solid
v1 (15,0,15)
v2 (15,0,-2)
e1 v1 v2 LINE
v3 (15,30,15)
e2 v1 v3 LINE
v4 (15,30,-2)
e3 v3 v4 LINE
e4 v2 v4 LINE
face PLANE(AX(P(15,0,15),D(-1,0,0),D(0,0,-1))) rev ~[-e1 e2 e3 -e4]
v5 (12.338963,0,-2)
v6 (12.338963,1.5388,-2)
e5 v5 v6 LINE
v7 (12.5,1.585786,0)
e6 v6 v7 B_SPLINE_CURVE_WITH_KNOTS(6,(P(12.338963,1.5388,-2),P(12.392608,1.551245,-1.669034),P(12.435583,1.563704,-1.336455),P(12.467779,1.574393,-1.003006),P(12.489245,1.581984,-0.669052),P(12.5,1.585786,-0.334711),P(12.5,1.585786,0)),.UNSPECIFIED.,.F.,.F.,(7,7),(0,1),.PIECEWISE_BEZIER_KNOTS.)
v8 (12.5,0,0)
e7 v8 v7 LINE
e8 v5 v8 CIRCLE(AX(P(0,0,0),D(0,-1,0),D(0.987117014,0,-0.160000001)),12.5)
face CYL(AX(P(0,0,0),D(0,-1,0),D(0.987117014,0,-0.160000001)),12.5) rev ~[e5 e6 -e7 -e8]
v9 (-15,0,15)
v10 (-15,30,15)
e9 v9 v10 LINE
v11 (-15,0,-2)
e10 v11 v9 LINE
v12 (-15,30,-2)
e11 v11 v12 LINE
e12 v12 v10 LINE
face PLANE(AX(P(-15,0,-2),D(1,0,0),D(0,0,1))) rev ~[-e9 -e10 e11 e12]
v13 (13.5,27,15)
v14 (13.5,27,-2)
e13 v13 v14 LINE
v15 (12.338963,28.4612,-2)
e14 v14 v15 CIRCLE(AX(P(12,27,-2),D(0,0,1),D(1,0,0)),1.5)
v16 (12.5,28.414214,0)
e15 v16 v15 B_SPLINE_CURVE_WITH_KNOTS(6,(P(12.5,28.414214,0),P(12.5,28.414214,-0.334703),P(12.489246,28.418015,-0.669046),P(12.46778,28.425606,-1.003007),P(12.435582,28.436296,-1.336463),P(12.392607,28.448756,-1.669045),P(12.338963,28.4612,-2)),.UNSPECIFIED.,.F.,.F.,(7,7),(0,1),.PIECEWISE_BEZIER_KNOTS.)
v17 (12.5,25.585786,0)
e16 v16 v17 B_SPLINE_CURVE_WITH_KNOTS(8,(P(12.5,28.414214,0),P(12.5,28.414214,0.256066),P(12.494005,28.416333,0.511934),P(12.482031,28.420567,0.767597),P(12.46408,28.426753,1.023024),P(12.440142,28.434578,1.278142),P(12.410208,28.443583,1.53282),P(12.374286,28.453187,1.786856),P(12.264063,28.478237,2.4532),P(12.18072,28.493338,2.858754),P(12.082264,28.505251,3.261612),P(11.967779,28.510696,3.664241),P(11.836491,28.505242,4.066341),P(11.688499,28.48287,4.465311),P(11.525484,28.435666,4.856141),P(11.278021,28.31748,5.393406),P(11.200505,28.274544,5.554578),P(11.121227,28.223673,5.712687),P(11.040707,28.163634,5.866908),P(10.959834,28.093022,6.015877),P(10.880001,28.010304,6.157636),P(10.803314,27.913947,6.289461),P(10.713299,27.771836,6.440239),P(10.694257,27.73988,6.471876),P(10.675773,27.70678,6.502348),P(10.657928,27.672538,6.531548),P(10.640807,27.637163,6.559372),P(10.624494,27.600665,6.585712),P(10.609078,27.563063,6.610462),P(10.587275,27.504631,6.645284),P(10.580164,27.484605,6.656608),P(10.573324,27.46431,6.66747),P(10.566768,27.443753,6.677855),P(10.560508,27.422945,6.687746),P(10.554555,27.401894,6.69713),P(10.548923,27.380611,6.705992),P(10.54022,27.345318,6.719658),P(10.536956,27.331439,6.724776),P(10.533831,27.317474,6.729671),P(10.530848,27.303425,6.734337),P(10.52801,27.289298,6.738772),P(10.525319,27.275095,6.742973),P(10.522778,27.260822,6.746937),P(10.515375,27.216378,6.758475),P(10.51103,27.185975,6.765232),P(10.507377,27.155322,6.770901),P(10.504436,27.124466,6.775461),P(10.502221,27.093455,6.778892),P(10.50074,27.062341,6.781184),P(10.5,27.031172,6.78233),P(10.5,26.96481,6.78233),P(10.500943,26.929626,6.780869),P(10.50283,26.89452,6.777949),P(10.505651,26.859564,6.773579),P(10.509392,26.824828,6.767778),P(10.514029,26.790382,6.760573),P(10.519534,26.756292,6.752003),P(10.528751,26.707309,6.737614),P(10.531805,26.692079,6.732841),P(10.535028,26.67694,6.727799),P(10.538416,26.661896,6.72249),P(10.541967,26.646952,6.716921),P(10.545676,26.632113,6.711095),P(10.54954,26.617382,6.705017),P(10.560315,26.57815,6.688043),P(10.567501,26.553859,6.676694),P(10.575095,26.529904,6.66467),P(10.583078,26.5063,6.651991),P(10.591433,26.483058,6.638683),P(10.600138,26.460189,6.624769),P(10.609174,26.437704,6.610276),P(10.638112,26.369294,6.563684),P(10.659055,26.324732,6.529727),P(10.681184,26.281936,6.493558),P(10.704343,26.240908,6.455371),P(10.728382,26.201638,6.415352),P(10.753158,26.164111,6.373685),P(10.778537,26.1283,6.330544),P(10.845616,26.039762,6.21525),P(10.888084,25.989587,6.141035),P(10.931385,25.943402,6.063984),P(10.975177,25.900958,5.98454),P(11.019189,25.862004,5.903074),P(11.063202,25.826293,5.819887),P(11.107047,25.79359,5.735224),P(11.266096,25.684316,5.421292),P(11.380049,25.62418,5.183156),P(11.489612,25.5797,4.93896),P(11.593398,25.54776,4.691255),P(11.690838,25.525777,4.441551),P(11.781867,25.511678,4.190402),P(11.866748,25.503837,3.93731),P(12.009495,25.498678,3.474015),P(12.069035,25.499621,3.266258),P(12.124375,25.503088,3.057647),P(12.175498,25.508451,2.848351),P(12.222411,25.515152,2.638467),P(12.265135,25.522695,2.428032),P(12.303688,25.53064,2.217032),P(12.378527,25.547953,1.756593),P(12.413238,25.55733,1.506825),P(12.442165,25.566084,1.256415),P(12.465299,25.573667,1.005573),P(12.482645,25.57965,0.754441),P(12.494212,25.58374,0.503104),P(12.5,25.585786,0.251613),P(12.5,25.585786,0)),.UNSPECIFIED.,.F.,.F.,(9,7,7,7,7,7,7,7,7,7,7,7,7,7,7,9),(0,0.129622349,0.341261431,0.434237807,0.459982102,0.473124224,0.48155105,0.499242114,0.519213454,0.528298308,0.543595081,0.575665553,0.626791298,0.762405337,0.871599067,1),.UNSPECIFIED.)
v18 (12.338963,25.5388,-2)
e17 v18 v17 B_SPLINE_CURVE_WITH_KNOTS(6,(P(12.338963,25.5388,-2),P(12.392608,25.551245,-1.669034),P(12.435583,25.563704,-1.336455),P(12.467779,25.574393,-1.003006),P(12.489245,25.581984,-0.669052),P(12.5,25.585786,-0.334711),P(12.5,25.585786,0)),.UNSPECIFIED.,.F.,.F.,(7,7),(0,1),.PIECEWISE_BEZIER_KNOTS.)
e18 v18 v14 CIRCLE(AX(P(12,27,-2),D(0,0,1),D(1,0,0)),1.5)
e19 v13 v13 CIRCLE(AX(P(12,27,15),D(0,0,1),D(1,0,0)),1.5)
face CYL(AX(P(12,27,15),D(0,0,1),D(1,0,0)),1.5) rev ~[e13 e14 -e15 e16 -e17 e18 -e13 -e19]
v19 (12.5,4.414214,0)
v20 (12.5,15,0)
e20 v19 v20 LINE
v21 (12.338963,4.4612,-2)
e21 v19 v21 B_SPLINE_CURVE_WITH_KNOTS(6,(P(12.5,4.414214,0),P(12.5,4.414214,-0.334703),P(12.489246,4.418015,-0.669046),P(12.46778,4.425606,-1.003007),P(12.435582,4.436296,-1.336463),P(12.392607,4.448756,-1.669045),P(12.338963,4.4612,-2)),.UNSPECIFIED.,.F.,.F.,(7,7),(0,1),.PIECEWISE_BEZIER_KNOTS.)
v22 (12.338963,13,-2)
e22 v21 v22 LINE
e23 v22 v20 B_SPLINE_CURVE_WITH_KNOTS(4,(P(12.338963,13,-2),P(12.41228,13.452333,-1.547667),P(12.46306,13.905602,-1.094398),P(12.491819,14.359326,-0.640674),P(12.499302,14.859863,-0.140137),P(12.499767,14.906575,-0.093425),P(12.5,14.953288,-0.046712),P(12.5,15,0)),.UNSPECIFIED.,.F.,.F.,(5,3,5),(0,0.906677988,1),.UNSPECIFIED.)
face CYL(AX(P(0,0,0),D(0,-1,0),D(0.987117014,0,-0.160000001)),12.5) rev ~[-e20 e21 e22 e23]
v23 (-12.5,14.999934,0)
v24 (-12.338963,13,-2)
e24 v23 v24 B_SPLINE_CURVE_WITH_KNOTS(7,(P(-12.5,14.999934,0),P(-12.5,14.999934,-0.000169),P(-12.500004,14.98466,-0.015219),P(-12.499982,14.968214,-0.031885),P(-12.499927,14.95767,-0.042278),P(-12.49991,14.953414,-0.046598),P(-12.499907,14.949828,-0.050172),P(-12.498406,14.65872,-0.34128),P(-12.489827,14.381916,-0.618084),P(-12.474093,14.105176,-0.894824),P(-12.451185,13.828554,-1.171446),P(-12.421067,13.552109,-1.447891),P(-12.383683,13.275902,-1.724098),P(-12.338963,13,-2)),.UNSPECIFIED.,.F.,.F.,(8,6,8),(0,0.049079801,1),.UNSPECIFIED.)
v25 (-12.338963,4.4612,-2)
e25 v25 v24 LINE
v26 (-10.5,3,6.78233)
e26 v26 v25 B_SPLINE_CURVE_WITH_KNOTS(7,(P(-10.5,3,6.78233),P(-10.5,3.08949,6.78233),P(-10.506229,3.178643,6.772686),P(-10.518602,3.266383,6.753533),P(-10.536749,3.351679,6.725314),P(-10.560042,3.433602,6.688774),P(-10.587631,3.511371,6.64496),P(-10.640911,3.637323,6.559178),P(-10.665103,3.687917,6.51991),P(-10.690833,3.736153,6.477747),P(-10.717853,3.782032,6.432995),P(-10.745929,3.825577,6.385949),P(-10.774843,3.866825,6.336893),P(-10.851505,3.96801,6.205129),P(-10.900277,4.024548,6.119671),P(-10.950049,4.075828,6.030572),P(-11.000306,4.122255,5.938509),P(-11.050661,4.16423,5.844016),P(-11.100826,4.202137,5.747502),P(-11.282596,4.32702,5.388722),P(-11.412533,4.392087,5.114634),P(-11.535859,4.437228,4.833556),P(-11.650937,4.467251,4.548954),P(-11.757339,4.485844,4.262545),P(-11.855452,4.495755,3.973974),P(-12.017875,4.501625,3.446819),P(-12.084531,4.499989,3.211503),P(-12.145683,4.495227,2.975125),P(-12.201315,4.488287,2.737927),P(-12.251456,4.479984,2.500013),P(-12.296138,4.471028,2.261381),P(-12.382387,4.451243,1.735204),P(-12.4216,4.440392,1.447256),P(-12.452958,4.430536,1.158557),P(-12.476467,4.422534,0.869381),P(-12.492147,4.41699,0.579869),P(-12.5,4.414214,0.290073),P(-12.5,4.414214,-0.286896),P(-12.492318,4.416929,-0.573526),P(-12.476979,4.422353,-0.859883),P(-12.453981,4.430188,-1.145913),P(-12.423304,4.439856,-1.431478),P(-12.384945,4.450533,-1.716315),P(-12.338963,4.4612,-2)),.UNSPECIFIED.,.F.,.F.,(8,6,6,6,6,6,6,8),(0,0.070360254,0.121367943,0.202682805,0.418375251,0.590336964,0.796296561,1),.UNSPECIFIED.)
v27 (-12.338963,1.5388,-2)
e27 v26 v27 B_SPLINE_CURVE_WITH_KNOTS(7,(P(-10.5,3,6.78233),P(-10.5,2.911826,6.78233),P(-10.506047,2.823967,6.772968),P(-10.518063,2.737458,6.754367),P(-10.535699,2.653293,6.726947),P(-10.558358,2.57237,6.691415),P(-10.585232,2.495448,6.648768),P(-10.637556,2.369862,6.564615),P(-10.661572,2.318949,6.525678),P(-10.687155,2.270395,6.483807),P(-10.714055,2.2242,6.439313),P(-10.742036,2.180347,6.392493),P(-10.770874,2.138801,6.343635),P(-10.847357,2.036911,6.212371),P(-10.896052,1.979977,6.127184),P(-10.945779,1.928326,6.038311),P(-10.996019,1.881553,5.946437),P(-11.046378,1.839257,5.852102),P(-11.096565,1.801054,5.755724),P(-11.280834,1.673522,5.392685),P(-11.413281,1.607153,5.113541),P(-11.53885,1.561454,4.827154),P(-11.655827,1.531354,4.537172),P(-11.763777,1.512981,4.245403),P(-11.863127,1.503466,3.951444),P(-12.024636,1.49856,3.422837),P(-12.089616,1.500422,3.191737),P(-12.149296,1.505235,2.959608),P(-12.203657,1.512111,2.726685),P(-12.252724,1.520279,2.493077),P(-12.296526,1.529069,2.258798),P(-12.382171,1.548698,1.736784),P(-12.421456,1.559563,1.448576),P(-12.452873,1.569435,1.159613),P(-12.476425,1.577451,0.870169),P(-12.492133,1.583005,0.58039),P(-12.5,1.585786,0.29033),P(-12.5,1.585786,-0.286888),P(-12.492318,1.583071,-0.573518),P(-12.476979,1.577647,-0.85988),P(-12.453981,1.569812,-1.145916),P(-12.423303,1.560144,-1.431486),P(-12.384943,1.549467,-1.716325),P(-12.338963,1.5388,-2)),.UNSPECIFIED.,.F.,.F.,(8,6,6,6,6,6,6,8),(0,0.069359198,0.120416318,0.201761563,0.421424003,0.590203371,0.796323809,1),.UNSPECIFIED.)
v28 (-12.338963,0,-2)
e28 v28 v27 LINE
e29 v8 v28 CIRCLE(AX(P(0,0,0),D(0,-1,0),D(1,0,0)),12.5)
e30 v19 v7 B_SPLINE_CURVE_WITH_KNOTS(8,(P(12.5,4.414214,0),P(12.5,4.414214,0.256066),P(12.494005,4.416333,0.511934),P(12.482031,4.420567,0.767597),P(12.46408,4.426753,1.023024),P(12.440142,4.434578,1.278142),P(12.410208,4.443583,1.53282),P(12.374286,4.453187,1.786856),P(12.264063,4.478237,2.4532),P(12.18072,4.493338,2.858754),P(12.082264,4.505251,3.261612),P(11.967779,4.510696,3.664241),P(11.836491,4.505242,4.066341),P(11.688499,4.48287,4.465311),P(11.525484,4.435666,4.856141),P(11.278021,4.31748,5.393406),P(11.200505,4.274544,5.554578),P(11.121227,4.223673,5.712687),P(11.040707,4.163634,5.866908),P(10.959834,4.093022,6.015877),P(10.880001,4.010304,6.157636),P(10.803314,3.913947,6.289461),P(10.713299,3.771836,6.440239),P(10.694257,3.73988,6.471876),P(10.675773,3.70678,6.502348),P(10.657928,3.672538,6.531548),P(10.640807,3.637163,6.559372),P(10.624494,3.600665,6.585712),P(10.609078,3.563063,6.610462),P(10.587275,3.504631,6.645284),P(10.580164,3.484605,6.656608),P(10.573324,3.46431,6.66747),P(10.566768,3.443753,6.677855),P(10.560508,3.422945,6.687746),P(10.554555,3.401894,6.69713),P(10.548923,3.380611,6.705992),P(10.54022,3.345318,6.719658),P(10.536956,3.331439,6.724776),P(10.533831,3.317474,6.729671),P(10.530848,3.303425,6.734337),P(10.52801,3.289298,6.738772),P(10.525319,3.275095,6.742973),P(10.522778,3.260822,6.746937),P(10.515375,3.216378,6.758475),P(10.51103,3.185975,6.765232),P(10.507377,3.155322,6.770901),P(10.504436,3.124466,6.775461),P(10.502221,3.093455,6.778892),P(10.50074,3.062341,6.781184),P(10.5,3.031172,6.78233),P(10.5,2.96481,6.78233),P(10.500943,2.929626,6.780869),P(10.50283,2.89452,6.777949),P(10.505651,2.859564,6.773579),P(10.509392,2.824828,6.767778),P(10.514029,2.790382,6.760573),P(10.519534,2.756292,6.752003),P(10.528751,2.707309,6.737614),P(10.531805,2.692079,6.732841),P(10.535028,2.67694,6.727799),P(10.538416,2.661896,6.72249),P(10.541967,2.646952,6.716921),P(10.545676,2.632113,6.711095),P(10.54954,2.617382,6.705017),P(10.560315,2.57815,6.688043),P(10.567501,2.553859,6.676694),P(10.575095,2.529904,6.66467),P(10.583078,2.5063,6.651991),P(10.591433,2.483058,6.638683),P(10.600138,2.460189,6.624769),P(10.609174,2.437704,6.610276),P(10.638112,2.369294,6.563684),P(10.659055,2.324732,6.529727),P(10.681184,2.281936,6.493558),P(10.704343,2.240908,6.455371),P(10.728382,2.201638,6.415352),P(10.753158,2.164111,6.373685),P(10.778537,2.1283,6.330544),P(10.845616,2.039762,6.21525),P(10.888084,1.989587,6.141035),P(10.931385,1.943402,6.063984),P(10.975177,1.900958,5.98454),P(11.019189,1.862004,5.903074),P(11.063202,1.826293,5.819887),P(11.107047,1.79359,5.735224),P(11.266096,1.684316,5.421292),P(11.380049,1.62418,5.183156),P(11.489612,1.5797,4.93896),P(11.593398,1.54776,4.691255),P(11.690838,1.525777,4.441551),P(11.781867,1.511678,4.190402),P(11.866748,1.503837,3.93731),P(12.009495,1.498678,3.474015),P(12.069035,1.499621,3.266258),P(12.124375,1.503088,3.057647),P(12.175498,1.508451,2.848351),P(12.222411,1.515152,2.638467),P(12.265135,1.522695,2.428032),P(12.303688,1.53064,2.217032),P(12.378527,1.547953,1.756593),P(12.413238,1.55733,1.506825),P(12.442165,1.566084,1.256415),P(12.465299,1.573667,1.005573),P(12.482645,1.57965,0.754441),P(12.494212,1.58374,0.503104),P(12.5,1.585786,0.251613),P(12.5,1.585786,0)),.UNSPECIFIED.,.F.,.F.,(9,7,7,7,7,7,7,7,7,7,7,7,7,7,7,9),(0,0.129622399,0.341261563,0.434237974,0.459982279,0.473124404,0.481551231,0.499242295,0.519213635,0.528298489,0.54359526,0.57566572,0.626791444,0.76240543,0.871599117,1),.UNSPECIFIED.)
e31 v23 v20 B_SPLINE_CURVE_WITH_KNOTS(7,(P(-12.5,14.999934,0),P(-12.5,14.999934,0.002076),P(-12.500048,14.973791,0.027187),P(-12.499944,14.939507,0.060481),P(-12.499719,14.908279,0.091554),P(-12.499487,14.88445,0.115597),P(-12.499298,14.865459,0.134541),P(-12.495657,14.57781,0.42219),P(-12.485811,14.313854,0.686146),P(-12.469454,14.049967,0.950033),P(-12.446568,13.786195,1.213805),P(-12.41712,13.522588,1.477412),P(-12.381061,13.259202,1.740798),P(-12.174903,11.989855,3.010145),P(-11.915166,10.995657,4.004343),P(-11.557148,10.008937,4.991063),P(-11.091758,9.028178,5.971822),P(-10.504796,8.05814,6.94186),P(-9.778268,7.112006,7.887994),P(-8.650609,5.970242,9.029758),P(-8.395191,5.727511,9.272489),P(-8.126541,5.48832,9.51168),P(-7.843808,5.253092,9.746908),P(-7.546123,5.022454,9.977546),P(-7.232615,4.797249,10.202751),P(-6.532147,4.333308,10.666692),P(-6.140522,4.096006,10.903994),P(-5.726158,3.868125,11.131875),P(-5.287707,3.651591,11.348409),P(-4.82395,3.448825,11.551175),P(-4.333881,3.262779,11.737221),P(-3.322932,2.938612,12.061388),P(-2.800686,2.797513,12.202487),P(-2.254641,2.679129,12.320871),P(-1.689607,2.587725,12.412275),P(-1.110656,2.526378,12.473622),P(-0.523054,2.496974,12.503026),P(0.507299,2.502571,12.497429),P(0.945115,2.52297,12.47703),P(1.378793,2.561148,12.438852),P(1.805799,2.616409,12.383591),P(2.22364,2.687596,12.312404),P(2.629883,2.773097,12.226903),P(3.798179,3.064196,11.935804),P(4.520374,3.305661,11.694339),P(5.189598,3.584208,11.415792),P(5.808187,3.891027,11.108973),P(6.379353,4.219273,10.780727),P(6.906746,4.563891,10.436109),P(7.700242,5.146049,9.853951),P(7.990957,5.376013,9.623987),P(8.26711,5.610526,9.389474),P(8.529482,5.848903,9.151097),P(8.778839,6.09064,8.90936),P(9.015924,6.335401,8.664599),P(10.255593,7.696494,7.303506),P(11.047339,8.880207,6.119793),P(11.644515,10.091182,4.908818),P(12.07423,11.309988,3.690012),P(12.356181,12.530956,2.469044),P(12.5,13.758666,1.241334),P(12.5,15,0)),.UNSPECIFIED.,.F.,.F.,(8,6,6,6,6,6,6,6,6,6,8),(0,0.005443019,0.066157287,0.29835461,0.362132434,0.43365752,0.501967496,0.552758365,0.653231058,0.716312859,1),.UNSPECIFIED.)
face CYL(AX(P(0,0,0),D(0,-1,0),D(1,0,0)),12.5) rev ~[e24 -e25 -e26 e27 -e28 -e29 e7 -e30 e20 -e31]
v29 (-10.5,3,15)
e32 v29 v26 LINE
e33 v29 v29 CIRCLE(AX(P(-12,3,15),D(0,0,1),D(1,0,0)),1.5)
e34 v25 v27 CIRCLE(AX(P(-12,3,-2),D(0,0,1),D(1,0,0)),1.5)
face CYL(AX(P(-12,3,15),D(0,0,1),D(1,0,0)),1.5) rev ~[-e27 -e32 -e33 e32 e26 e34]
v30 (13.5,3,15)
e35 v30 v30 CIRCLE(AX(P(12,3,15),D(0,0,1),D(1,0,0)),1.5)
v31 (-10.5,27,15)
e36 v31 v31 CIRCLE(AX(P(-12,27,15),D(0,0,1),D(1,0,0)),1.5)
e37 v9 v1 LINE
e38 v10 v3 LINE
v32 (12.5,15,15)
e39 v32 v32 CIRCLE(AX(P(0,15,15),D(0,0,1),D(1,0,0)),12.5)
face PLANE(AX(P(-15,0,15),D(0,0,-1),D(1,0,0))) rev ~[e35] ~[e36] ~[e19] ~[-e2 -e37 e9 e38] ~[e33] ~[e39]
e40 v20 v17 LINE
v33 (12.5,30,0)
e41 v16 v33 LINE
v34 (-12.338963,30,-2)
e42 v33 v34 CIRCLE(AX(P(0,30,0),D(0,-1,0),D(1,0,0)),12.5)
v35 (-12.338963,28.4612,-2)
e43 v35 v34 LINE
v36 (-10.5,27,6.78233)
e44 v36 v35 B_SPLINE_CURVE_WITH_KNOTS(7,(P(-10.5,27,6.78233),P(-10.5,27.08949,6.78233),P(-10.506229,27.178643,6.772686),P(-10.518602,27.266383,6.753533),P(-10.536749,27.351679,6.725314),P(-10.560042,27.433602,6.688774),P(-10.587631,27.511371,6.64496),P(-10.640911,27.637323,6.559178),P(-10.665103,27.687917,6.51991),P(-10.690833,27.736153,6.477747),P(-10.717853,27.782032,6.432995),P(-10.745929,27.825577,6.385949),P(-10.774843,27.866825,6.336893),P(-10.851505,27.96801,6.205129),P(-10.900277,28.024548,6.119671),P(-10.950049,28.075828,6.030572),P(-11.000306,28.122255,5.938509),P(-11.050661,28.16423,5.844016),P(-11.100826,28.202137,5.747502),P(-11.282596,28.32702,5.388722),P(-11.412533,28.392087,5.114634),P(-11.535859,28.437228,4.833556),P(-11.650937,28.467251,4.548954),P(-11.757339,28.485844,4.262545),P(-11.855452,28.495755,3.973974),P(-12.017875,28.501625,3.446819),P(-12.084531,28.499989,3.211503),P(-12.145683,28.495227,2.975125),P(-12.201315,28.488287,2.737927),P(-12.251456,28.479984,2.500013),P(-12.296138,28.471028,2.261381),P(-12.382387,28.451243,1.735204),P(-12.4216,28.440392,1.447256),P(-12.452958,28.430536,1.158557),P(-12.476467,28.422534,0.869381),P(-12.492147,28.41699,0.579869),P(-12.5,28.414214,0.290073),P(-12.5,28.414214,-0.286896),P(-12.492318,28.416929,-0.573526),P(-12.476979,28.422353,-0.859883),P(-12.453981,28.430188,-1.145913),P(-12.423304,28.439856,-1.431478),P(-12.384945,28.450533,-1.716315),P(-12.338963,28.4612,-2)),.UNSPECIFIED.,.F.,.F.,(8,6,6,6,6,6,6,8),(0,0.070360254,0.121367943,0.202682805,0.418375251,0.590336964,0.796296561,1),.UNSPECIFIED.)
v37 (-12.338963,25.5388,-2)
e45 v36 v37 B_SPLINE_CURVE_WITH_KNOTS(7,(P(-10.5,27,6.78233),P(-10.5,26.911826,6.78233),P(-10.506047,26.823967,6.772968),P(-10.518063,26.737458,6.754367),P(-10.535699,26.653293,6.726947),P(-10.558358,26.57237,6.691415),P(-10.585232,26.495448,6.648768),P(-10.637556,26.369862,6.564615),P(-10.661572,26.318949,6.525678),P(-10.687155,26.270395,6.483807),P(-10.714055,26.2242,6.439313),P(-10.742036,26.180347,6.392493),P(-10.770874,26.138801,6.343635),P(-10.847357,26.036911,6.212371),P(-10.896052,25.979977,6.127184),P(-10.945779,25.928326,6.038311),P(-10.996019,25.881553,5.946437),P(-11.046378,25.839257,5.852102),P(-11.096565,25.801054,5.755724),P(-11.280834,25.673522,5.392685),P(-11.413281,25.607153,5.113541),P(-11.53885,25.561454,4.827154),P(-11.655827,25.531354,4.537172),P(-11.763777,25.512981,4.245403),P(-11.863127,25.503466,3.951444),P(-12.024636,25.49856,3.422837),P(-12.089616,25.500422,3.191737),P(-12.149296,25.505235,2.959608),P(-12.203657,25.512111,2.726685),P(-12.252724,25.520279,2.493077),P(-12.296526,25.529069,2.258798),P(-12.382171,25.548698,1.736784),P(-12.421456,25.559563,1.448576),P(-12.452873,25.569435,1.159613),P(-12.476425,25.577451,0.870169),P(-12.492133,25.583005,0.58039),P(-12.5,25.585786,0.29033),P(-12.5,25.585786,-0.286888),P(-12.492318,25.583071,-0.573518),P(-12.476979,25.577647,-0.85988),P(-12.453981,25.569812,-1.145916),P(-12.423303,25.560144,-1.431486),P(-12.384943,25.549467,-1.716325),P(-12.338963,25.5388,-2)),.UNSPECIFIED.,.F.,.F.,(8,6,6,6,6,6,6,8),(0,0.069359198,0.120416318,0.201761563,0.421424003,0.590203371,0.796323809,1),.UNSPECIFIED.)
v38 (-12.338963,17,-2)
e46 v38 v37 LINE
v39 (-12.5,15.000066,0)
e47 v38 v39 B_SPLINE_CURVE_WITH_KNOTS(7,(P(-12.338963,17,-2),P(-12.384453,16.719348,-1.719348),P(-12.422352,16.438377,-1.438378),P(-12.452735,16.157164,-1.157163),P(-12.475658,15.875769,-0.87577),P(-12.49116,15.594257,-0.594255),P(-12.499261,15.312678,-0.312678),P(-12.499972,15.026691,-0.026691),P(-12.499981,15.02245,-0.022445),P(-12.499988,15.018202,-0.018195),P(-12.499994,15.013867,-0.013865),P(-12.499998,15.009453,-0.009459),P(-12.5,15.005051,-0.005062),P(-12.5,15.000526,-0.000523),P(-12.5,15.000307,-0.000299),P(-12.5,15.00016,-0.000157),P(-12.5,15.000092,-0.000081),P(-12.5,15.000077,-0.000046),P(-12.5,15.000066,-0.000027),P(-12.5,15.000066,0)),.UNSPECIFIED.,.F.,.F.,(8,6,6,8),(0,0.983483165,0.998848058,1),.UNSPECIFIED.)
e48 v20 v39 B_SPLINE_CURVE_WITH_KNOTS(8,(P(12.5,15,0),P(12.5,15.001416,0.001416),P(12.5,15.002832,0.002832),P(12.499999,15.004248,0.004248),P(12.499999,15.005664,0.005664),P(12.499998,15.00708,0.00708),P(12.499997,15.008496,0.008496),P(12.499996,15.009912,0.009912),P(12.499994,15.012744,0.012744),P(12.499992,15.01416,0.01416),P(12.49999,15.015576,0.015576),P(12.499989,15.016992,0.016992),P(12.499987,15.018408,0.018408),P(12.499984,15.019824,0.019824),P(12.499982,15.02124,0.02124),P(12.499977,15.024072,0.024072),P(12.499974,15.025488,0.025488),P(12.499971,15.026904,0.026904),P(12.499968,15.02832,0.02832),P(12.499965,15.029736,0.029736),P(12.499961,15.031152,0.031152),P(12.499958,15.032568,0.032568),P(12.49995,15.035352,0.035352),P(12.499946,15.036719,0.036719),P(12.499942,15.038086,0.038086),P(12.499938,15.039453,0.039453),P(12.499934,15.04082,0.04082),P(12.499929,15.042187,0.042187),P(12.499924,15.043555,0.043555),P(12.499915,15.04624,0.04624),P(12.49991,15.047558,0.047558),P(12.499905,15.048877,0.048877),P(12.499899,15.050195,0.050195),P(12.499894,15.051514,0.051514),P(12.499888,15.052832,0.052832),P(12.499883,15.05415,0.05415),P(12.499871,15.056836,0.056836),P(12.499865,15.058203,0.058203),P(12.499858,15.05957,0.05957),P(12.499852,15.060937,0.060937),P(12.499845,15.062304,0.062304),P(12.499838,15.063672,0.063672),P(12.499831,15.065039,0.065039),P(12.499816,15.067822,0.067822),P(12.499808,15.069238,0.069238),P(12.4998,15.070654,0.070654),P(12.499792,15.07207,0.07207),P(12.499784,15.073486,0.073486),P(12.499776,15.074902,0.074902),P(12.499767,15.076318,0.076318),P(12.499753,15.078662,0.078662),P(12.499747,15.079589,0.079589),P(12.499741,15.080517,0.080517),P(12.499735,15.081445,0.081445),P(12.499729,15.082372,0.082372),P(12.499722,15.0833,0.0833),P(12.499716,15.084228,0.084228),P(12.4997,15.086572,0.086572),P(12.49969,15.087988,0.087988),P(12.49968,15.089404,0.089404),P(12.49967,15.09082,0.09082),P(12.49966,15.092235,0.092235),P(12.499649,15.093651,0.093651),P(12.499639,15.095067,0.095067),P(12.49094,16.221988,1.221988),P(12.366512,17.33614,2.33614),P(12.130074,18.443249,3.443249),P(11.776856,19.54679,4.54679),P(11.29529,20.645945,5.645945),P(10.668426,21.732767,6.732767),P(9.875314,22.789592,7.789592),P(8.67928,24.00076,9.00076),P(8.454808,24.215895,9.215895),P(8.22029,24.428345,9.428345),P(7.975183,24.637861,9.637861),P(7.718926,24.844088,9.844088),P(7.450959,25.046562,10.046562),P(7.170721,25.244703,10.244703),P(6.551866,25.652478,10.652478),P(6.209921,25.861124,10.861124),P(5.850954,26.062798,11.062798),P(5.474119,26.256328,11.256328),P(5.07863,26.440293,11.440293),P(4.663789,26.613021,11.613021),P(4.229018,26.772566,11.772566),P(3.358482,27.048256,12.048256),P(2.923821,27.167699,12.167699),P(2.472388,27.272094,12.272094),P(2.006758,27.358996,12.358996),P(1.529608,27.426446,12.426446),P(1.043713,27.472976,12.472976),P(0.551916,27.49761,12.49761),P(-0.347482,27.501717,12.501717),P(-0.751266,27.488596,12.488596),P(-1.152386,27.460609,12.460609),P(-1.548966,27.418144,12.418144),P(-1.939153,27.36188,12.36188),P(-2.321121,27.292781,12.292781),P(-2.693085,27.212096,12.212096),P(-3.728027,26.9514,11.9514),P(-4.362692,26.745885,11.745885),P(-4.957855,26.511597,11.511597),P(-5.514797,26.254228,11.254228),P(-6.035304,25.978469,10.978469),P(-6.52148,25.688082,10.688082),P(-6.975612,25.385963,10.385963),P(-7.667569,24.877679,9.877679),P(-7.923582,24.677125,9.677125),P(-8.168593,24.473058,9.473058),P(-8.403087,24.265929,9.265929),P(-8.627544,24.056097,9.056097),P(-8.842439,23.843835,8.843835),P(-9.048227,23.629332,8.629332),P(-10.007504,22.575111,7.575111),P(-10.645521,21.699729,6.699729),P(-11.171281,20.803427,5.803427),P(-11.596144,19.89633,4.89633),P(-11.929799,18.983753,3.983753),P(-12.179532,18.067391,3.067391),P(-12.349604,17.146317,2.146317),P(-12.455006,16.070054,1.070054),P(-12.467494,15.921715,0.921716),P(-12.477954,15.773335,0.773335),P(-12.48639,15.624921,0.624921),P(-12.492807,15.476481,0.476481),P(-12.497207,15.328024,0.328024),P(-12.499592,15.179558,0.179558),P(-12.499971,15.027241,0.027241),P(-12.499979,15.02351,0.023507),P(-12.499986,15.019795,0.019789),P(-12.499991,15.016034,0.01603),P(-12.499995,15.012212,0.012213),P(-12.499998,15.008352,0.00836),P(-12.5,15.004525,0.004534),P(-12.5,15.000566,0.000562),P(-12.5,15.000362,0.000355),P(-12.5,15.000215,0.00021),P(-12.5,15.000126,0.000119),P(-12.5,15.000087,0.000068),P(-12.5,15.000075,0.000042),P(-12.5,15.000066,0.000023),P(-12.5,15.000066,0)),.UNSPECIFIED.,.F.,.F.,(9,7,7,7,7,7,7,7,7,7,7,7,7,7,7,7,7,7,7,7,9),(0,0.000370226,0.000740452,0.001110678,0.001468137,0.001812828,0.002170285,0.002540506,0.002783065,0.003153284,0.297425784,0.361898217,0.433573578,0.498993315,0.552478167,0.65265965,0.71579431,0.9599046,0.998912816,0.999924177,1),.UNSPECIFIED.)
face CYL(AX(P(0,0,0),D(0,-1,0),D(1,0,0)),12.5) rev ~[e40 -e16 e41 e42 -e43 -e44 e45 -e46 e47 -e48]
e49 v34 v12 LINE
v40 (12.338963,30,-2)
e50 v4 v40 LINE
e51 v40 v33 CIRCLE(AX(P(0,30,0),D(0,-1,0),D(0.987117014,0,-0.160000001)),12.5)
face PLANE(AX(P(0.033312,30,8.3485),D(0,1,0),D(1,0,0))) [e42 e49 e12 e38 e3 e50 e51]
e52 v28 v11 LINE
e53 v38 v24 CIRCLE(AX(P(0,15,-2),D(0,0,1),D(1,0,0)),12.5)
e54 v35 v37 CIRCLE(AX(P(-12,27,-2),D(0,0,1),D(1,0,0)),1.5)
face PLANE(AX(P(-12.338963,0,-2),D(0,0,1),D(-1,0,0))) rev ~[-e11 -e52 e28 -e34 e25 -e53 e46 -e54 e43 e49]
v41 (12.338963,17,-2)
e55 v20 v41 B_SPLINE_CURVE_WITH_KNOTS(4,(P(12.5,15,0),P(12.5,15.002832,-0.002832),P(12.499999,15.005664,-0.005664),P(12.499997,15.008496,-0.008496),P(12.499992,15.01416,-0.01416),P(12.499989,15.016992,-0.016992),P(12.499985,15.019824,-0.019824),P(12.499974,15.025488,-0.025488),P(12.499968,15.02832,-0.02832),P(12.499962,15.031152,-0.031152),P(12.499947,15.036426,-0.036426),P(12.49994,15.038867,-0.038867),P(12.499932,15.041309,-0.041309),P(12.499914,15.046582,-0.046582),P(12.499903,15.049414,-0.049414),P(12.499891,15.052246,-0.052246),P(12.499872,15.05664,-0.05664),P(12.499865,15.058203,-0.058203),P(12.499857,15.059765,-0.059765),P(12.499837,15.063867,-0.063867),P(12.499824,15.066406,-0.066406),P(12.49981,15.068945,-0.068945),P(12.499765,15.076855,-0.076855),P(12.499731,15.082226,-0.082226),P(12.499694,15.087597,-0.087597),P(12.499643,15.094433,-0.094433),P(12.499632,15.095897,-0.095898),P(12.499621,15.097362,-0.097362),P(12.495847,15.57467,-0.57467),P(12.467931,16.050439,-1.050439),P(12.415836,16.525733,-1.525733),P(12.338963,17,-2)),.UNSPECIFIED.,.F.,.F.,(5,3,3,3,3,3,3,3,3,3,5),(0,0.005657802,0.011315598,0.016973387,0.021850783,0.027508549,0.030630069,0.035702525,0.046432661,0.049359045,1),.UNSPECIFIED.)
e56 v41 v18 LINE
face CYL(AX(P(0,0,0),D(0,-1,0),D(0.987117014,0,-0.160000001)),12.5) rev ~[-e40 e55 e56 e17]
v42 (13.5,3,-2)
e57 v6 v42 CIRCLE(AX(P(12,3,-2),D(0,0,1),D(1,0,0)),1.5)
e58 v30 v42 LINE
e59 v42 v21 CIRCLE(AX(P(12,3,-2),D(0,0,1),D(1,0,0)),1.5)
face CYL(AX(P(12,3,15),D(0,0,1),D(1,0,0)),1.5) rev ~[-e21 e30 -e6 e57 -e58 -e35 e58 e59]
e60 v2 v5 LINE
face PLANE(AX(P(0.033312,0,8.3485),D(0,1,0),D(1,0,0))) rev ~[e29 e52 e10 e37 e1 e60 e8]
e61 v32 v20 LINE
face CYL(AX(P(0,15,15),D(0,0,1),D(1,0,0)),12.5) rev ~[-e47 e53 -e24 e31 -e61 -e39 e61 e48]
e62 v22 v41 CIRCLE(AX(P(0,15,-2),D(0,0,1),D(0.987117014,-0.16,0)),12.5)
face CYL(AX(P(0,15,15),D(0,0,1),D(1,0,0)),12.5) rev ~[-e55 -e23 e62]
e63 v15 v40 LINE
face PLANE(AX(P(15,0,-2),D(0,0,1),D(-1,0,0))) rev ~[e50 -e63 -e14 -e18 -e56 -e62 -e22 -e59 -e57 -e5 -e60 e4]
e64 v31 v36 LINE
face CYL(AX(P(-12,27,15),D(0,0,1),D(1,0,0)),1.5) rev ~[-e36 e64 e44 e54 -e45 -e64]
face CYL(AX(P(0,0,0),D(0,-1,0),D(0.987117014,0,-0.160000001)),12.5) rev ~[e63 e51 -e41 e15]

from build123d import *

# Parameters (mm, degrees)
P_IDAT_VYSUNUT_M1_DEPTH  = 30
SKICA2_R                 = 12.5
ODEBRAT_VYSUNUT_M1_DEPTH = 30
SKICA3_R                 = 1.5
ODEBRAT_VYSUNUT_M2_DEPTH = 30


with BuildPart() as part:
    # Skica1 → Přidat vysunutím1 (new body)
    with BuildSketch(Plane(origin=(0, 0, 0), x_dir=(1, 0, 0), z_dir=(0, 1, 0))):
        with BuildLine():
            Line((-15, 2), (-15, 0))
            Line((-15, 0), (-15, -15))
            Line((-15, -15), (15, -15))
            Line((15, -15), (15, 0))
            Line((15, 0), (15, 2))
            Line((15, 2), (12.338962679, 2))
            ThreePointArc((12.338962679, 2), (12.459675628, 1.00323639), (12.5, 0))
            ThreePointArc((12.5, 0), (-1.00323639, -12.459675628), (-12.338962679, 2))
            Line((-12.338962679, 2), (-15, 2))
        make_face()
    extrude(amount=P_IDAT_VYSUNUT_M1_DEPTH)

    # Skica2 → Odebrat vysunutím1 (cut)
    with BuildSketch(Plane.XY.offset(15)):
        with Locations((0, 15)):
            Circle(SKICA2_R)
    extrude(amount=-ODEBRAT_VYSUNUT_M1_DEPTH, mode=Mode.SUBTRACT)

    # Skica3 → Odebrat vysunutím2 (cut)
    with BuildSketch(Plane.XY.offset(15)):
        with Locations((-12, 27)):
            Circle(SKICA3_R)
        with Locations((12, 27)):
            Circle(SKICA3_R)
        with Locations((12, 3)):
            Circle(SKICA3_R)
        with Locations((-12, 3)):
            Circle(SKICA3_R)
    extrude(amount=-ODEBRAT_VYSUNUT_M2_DEPTH, mode=Mode.SUBTRACT)


solid = part.part
